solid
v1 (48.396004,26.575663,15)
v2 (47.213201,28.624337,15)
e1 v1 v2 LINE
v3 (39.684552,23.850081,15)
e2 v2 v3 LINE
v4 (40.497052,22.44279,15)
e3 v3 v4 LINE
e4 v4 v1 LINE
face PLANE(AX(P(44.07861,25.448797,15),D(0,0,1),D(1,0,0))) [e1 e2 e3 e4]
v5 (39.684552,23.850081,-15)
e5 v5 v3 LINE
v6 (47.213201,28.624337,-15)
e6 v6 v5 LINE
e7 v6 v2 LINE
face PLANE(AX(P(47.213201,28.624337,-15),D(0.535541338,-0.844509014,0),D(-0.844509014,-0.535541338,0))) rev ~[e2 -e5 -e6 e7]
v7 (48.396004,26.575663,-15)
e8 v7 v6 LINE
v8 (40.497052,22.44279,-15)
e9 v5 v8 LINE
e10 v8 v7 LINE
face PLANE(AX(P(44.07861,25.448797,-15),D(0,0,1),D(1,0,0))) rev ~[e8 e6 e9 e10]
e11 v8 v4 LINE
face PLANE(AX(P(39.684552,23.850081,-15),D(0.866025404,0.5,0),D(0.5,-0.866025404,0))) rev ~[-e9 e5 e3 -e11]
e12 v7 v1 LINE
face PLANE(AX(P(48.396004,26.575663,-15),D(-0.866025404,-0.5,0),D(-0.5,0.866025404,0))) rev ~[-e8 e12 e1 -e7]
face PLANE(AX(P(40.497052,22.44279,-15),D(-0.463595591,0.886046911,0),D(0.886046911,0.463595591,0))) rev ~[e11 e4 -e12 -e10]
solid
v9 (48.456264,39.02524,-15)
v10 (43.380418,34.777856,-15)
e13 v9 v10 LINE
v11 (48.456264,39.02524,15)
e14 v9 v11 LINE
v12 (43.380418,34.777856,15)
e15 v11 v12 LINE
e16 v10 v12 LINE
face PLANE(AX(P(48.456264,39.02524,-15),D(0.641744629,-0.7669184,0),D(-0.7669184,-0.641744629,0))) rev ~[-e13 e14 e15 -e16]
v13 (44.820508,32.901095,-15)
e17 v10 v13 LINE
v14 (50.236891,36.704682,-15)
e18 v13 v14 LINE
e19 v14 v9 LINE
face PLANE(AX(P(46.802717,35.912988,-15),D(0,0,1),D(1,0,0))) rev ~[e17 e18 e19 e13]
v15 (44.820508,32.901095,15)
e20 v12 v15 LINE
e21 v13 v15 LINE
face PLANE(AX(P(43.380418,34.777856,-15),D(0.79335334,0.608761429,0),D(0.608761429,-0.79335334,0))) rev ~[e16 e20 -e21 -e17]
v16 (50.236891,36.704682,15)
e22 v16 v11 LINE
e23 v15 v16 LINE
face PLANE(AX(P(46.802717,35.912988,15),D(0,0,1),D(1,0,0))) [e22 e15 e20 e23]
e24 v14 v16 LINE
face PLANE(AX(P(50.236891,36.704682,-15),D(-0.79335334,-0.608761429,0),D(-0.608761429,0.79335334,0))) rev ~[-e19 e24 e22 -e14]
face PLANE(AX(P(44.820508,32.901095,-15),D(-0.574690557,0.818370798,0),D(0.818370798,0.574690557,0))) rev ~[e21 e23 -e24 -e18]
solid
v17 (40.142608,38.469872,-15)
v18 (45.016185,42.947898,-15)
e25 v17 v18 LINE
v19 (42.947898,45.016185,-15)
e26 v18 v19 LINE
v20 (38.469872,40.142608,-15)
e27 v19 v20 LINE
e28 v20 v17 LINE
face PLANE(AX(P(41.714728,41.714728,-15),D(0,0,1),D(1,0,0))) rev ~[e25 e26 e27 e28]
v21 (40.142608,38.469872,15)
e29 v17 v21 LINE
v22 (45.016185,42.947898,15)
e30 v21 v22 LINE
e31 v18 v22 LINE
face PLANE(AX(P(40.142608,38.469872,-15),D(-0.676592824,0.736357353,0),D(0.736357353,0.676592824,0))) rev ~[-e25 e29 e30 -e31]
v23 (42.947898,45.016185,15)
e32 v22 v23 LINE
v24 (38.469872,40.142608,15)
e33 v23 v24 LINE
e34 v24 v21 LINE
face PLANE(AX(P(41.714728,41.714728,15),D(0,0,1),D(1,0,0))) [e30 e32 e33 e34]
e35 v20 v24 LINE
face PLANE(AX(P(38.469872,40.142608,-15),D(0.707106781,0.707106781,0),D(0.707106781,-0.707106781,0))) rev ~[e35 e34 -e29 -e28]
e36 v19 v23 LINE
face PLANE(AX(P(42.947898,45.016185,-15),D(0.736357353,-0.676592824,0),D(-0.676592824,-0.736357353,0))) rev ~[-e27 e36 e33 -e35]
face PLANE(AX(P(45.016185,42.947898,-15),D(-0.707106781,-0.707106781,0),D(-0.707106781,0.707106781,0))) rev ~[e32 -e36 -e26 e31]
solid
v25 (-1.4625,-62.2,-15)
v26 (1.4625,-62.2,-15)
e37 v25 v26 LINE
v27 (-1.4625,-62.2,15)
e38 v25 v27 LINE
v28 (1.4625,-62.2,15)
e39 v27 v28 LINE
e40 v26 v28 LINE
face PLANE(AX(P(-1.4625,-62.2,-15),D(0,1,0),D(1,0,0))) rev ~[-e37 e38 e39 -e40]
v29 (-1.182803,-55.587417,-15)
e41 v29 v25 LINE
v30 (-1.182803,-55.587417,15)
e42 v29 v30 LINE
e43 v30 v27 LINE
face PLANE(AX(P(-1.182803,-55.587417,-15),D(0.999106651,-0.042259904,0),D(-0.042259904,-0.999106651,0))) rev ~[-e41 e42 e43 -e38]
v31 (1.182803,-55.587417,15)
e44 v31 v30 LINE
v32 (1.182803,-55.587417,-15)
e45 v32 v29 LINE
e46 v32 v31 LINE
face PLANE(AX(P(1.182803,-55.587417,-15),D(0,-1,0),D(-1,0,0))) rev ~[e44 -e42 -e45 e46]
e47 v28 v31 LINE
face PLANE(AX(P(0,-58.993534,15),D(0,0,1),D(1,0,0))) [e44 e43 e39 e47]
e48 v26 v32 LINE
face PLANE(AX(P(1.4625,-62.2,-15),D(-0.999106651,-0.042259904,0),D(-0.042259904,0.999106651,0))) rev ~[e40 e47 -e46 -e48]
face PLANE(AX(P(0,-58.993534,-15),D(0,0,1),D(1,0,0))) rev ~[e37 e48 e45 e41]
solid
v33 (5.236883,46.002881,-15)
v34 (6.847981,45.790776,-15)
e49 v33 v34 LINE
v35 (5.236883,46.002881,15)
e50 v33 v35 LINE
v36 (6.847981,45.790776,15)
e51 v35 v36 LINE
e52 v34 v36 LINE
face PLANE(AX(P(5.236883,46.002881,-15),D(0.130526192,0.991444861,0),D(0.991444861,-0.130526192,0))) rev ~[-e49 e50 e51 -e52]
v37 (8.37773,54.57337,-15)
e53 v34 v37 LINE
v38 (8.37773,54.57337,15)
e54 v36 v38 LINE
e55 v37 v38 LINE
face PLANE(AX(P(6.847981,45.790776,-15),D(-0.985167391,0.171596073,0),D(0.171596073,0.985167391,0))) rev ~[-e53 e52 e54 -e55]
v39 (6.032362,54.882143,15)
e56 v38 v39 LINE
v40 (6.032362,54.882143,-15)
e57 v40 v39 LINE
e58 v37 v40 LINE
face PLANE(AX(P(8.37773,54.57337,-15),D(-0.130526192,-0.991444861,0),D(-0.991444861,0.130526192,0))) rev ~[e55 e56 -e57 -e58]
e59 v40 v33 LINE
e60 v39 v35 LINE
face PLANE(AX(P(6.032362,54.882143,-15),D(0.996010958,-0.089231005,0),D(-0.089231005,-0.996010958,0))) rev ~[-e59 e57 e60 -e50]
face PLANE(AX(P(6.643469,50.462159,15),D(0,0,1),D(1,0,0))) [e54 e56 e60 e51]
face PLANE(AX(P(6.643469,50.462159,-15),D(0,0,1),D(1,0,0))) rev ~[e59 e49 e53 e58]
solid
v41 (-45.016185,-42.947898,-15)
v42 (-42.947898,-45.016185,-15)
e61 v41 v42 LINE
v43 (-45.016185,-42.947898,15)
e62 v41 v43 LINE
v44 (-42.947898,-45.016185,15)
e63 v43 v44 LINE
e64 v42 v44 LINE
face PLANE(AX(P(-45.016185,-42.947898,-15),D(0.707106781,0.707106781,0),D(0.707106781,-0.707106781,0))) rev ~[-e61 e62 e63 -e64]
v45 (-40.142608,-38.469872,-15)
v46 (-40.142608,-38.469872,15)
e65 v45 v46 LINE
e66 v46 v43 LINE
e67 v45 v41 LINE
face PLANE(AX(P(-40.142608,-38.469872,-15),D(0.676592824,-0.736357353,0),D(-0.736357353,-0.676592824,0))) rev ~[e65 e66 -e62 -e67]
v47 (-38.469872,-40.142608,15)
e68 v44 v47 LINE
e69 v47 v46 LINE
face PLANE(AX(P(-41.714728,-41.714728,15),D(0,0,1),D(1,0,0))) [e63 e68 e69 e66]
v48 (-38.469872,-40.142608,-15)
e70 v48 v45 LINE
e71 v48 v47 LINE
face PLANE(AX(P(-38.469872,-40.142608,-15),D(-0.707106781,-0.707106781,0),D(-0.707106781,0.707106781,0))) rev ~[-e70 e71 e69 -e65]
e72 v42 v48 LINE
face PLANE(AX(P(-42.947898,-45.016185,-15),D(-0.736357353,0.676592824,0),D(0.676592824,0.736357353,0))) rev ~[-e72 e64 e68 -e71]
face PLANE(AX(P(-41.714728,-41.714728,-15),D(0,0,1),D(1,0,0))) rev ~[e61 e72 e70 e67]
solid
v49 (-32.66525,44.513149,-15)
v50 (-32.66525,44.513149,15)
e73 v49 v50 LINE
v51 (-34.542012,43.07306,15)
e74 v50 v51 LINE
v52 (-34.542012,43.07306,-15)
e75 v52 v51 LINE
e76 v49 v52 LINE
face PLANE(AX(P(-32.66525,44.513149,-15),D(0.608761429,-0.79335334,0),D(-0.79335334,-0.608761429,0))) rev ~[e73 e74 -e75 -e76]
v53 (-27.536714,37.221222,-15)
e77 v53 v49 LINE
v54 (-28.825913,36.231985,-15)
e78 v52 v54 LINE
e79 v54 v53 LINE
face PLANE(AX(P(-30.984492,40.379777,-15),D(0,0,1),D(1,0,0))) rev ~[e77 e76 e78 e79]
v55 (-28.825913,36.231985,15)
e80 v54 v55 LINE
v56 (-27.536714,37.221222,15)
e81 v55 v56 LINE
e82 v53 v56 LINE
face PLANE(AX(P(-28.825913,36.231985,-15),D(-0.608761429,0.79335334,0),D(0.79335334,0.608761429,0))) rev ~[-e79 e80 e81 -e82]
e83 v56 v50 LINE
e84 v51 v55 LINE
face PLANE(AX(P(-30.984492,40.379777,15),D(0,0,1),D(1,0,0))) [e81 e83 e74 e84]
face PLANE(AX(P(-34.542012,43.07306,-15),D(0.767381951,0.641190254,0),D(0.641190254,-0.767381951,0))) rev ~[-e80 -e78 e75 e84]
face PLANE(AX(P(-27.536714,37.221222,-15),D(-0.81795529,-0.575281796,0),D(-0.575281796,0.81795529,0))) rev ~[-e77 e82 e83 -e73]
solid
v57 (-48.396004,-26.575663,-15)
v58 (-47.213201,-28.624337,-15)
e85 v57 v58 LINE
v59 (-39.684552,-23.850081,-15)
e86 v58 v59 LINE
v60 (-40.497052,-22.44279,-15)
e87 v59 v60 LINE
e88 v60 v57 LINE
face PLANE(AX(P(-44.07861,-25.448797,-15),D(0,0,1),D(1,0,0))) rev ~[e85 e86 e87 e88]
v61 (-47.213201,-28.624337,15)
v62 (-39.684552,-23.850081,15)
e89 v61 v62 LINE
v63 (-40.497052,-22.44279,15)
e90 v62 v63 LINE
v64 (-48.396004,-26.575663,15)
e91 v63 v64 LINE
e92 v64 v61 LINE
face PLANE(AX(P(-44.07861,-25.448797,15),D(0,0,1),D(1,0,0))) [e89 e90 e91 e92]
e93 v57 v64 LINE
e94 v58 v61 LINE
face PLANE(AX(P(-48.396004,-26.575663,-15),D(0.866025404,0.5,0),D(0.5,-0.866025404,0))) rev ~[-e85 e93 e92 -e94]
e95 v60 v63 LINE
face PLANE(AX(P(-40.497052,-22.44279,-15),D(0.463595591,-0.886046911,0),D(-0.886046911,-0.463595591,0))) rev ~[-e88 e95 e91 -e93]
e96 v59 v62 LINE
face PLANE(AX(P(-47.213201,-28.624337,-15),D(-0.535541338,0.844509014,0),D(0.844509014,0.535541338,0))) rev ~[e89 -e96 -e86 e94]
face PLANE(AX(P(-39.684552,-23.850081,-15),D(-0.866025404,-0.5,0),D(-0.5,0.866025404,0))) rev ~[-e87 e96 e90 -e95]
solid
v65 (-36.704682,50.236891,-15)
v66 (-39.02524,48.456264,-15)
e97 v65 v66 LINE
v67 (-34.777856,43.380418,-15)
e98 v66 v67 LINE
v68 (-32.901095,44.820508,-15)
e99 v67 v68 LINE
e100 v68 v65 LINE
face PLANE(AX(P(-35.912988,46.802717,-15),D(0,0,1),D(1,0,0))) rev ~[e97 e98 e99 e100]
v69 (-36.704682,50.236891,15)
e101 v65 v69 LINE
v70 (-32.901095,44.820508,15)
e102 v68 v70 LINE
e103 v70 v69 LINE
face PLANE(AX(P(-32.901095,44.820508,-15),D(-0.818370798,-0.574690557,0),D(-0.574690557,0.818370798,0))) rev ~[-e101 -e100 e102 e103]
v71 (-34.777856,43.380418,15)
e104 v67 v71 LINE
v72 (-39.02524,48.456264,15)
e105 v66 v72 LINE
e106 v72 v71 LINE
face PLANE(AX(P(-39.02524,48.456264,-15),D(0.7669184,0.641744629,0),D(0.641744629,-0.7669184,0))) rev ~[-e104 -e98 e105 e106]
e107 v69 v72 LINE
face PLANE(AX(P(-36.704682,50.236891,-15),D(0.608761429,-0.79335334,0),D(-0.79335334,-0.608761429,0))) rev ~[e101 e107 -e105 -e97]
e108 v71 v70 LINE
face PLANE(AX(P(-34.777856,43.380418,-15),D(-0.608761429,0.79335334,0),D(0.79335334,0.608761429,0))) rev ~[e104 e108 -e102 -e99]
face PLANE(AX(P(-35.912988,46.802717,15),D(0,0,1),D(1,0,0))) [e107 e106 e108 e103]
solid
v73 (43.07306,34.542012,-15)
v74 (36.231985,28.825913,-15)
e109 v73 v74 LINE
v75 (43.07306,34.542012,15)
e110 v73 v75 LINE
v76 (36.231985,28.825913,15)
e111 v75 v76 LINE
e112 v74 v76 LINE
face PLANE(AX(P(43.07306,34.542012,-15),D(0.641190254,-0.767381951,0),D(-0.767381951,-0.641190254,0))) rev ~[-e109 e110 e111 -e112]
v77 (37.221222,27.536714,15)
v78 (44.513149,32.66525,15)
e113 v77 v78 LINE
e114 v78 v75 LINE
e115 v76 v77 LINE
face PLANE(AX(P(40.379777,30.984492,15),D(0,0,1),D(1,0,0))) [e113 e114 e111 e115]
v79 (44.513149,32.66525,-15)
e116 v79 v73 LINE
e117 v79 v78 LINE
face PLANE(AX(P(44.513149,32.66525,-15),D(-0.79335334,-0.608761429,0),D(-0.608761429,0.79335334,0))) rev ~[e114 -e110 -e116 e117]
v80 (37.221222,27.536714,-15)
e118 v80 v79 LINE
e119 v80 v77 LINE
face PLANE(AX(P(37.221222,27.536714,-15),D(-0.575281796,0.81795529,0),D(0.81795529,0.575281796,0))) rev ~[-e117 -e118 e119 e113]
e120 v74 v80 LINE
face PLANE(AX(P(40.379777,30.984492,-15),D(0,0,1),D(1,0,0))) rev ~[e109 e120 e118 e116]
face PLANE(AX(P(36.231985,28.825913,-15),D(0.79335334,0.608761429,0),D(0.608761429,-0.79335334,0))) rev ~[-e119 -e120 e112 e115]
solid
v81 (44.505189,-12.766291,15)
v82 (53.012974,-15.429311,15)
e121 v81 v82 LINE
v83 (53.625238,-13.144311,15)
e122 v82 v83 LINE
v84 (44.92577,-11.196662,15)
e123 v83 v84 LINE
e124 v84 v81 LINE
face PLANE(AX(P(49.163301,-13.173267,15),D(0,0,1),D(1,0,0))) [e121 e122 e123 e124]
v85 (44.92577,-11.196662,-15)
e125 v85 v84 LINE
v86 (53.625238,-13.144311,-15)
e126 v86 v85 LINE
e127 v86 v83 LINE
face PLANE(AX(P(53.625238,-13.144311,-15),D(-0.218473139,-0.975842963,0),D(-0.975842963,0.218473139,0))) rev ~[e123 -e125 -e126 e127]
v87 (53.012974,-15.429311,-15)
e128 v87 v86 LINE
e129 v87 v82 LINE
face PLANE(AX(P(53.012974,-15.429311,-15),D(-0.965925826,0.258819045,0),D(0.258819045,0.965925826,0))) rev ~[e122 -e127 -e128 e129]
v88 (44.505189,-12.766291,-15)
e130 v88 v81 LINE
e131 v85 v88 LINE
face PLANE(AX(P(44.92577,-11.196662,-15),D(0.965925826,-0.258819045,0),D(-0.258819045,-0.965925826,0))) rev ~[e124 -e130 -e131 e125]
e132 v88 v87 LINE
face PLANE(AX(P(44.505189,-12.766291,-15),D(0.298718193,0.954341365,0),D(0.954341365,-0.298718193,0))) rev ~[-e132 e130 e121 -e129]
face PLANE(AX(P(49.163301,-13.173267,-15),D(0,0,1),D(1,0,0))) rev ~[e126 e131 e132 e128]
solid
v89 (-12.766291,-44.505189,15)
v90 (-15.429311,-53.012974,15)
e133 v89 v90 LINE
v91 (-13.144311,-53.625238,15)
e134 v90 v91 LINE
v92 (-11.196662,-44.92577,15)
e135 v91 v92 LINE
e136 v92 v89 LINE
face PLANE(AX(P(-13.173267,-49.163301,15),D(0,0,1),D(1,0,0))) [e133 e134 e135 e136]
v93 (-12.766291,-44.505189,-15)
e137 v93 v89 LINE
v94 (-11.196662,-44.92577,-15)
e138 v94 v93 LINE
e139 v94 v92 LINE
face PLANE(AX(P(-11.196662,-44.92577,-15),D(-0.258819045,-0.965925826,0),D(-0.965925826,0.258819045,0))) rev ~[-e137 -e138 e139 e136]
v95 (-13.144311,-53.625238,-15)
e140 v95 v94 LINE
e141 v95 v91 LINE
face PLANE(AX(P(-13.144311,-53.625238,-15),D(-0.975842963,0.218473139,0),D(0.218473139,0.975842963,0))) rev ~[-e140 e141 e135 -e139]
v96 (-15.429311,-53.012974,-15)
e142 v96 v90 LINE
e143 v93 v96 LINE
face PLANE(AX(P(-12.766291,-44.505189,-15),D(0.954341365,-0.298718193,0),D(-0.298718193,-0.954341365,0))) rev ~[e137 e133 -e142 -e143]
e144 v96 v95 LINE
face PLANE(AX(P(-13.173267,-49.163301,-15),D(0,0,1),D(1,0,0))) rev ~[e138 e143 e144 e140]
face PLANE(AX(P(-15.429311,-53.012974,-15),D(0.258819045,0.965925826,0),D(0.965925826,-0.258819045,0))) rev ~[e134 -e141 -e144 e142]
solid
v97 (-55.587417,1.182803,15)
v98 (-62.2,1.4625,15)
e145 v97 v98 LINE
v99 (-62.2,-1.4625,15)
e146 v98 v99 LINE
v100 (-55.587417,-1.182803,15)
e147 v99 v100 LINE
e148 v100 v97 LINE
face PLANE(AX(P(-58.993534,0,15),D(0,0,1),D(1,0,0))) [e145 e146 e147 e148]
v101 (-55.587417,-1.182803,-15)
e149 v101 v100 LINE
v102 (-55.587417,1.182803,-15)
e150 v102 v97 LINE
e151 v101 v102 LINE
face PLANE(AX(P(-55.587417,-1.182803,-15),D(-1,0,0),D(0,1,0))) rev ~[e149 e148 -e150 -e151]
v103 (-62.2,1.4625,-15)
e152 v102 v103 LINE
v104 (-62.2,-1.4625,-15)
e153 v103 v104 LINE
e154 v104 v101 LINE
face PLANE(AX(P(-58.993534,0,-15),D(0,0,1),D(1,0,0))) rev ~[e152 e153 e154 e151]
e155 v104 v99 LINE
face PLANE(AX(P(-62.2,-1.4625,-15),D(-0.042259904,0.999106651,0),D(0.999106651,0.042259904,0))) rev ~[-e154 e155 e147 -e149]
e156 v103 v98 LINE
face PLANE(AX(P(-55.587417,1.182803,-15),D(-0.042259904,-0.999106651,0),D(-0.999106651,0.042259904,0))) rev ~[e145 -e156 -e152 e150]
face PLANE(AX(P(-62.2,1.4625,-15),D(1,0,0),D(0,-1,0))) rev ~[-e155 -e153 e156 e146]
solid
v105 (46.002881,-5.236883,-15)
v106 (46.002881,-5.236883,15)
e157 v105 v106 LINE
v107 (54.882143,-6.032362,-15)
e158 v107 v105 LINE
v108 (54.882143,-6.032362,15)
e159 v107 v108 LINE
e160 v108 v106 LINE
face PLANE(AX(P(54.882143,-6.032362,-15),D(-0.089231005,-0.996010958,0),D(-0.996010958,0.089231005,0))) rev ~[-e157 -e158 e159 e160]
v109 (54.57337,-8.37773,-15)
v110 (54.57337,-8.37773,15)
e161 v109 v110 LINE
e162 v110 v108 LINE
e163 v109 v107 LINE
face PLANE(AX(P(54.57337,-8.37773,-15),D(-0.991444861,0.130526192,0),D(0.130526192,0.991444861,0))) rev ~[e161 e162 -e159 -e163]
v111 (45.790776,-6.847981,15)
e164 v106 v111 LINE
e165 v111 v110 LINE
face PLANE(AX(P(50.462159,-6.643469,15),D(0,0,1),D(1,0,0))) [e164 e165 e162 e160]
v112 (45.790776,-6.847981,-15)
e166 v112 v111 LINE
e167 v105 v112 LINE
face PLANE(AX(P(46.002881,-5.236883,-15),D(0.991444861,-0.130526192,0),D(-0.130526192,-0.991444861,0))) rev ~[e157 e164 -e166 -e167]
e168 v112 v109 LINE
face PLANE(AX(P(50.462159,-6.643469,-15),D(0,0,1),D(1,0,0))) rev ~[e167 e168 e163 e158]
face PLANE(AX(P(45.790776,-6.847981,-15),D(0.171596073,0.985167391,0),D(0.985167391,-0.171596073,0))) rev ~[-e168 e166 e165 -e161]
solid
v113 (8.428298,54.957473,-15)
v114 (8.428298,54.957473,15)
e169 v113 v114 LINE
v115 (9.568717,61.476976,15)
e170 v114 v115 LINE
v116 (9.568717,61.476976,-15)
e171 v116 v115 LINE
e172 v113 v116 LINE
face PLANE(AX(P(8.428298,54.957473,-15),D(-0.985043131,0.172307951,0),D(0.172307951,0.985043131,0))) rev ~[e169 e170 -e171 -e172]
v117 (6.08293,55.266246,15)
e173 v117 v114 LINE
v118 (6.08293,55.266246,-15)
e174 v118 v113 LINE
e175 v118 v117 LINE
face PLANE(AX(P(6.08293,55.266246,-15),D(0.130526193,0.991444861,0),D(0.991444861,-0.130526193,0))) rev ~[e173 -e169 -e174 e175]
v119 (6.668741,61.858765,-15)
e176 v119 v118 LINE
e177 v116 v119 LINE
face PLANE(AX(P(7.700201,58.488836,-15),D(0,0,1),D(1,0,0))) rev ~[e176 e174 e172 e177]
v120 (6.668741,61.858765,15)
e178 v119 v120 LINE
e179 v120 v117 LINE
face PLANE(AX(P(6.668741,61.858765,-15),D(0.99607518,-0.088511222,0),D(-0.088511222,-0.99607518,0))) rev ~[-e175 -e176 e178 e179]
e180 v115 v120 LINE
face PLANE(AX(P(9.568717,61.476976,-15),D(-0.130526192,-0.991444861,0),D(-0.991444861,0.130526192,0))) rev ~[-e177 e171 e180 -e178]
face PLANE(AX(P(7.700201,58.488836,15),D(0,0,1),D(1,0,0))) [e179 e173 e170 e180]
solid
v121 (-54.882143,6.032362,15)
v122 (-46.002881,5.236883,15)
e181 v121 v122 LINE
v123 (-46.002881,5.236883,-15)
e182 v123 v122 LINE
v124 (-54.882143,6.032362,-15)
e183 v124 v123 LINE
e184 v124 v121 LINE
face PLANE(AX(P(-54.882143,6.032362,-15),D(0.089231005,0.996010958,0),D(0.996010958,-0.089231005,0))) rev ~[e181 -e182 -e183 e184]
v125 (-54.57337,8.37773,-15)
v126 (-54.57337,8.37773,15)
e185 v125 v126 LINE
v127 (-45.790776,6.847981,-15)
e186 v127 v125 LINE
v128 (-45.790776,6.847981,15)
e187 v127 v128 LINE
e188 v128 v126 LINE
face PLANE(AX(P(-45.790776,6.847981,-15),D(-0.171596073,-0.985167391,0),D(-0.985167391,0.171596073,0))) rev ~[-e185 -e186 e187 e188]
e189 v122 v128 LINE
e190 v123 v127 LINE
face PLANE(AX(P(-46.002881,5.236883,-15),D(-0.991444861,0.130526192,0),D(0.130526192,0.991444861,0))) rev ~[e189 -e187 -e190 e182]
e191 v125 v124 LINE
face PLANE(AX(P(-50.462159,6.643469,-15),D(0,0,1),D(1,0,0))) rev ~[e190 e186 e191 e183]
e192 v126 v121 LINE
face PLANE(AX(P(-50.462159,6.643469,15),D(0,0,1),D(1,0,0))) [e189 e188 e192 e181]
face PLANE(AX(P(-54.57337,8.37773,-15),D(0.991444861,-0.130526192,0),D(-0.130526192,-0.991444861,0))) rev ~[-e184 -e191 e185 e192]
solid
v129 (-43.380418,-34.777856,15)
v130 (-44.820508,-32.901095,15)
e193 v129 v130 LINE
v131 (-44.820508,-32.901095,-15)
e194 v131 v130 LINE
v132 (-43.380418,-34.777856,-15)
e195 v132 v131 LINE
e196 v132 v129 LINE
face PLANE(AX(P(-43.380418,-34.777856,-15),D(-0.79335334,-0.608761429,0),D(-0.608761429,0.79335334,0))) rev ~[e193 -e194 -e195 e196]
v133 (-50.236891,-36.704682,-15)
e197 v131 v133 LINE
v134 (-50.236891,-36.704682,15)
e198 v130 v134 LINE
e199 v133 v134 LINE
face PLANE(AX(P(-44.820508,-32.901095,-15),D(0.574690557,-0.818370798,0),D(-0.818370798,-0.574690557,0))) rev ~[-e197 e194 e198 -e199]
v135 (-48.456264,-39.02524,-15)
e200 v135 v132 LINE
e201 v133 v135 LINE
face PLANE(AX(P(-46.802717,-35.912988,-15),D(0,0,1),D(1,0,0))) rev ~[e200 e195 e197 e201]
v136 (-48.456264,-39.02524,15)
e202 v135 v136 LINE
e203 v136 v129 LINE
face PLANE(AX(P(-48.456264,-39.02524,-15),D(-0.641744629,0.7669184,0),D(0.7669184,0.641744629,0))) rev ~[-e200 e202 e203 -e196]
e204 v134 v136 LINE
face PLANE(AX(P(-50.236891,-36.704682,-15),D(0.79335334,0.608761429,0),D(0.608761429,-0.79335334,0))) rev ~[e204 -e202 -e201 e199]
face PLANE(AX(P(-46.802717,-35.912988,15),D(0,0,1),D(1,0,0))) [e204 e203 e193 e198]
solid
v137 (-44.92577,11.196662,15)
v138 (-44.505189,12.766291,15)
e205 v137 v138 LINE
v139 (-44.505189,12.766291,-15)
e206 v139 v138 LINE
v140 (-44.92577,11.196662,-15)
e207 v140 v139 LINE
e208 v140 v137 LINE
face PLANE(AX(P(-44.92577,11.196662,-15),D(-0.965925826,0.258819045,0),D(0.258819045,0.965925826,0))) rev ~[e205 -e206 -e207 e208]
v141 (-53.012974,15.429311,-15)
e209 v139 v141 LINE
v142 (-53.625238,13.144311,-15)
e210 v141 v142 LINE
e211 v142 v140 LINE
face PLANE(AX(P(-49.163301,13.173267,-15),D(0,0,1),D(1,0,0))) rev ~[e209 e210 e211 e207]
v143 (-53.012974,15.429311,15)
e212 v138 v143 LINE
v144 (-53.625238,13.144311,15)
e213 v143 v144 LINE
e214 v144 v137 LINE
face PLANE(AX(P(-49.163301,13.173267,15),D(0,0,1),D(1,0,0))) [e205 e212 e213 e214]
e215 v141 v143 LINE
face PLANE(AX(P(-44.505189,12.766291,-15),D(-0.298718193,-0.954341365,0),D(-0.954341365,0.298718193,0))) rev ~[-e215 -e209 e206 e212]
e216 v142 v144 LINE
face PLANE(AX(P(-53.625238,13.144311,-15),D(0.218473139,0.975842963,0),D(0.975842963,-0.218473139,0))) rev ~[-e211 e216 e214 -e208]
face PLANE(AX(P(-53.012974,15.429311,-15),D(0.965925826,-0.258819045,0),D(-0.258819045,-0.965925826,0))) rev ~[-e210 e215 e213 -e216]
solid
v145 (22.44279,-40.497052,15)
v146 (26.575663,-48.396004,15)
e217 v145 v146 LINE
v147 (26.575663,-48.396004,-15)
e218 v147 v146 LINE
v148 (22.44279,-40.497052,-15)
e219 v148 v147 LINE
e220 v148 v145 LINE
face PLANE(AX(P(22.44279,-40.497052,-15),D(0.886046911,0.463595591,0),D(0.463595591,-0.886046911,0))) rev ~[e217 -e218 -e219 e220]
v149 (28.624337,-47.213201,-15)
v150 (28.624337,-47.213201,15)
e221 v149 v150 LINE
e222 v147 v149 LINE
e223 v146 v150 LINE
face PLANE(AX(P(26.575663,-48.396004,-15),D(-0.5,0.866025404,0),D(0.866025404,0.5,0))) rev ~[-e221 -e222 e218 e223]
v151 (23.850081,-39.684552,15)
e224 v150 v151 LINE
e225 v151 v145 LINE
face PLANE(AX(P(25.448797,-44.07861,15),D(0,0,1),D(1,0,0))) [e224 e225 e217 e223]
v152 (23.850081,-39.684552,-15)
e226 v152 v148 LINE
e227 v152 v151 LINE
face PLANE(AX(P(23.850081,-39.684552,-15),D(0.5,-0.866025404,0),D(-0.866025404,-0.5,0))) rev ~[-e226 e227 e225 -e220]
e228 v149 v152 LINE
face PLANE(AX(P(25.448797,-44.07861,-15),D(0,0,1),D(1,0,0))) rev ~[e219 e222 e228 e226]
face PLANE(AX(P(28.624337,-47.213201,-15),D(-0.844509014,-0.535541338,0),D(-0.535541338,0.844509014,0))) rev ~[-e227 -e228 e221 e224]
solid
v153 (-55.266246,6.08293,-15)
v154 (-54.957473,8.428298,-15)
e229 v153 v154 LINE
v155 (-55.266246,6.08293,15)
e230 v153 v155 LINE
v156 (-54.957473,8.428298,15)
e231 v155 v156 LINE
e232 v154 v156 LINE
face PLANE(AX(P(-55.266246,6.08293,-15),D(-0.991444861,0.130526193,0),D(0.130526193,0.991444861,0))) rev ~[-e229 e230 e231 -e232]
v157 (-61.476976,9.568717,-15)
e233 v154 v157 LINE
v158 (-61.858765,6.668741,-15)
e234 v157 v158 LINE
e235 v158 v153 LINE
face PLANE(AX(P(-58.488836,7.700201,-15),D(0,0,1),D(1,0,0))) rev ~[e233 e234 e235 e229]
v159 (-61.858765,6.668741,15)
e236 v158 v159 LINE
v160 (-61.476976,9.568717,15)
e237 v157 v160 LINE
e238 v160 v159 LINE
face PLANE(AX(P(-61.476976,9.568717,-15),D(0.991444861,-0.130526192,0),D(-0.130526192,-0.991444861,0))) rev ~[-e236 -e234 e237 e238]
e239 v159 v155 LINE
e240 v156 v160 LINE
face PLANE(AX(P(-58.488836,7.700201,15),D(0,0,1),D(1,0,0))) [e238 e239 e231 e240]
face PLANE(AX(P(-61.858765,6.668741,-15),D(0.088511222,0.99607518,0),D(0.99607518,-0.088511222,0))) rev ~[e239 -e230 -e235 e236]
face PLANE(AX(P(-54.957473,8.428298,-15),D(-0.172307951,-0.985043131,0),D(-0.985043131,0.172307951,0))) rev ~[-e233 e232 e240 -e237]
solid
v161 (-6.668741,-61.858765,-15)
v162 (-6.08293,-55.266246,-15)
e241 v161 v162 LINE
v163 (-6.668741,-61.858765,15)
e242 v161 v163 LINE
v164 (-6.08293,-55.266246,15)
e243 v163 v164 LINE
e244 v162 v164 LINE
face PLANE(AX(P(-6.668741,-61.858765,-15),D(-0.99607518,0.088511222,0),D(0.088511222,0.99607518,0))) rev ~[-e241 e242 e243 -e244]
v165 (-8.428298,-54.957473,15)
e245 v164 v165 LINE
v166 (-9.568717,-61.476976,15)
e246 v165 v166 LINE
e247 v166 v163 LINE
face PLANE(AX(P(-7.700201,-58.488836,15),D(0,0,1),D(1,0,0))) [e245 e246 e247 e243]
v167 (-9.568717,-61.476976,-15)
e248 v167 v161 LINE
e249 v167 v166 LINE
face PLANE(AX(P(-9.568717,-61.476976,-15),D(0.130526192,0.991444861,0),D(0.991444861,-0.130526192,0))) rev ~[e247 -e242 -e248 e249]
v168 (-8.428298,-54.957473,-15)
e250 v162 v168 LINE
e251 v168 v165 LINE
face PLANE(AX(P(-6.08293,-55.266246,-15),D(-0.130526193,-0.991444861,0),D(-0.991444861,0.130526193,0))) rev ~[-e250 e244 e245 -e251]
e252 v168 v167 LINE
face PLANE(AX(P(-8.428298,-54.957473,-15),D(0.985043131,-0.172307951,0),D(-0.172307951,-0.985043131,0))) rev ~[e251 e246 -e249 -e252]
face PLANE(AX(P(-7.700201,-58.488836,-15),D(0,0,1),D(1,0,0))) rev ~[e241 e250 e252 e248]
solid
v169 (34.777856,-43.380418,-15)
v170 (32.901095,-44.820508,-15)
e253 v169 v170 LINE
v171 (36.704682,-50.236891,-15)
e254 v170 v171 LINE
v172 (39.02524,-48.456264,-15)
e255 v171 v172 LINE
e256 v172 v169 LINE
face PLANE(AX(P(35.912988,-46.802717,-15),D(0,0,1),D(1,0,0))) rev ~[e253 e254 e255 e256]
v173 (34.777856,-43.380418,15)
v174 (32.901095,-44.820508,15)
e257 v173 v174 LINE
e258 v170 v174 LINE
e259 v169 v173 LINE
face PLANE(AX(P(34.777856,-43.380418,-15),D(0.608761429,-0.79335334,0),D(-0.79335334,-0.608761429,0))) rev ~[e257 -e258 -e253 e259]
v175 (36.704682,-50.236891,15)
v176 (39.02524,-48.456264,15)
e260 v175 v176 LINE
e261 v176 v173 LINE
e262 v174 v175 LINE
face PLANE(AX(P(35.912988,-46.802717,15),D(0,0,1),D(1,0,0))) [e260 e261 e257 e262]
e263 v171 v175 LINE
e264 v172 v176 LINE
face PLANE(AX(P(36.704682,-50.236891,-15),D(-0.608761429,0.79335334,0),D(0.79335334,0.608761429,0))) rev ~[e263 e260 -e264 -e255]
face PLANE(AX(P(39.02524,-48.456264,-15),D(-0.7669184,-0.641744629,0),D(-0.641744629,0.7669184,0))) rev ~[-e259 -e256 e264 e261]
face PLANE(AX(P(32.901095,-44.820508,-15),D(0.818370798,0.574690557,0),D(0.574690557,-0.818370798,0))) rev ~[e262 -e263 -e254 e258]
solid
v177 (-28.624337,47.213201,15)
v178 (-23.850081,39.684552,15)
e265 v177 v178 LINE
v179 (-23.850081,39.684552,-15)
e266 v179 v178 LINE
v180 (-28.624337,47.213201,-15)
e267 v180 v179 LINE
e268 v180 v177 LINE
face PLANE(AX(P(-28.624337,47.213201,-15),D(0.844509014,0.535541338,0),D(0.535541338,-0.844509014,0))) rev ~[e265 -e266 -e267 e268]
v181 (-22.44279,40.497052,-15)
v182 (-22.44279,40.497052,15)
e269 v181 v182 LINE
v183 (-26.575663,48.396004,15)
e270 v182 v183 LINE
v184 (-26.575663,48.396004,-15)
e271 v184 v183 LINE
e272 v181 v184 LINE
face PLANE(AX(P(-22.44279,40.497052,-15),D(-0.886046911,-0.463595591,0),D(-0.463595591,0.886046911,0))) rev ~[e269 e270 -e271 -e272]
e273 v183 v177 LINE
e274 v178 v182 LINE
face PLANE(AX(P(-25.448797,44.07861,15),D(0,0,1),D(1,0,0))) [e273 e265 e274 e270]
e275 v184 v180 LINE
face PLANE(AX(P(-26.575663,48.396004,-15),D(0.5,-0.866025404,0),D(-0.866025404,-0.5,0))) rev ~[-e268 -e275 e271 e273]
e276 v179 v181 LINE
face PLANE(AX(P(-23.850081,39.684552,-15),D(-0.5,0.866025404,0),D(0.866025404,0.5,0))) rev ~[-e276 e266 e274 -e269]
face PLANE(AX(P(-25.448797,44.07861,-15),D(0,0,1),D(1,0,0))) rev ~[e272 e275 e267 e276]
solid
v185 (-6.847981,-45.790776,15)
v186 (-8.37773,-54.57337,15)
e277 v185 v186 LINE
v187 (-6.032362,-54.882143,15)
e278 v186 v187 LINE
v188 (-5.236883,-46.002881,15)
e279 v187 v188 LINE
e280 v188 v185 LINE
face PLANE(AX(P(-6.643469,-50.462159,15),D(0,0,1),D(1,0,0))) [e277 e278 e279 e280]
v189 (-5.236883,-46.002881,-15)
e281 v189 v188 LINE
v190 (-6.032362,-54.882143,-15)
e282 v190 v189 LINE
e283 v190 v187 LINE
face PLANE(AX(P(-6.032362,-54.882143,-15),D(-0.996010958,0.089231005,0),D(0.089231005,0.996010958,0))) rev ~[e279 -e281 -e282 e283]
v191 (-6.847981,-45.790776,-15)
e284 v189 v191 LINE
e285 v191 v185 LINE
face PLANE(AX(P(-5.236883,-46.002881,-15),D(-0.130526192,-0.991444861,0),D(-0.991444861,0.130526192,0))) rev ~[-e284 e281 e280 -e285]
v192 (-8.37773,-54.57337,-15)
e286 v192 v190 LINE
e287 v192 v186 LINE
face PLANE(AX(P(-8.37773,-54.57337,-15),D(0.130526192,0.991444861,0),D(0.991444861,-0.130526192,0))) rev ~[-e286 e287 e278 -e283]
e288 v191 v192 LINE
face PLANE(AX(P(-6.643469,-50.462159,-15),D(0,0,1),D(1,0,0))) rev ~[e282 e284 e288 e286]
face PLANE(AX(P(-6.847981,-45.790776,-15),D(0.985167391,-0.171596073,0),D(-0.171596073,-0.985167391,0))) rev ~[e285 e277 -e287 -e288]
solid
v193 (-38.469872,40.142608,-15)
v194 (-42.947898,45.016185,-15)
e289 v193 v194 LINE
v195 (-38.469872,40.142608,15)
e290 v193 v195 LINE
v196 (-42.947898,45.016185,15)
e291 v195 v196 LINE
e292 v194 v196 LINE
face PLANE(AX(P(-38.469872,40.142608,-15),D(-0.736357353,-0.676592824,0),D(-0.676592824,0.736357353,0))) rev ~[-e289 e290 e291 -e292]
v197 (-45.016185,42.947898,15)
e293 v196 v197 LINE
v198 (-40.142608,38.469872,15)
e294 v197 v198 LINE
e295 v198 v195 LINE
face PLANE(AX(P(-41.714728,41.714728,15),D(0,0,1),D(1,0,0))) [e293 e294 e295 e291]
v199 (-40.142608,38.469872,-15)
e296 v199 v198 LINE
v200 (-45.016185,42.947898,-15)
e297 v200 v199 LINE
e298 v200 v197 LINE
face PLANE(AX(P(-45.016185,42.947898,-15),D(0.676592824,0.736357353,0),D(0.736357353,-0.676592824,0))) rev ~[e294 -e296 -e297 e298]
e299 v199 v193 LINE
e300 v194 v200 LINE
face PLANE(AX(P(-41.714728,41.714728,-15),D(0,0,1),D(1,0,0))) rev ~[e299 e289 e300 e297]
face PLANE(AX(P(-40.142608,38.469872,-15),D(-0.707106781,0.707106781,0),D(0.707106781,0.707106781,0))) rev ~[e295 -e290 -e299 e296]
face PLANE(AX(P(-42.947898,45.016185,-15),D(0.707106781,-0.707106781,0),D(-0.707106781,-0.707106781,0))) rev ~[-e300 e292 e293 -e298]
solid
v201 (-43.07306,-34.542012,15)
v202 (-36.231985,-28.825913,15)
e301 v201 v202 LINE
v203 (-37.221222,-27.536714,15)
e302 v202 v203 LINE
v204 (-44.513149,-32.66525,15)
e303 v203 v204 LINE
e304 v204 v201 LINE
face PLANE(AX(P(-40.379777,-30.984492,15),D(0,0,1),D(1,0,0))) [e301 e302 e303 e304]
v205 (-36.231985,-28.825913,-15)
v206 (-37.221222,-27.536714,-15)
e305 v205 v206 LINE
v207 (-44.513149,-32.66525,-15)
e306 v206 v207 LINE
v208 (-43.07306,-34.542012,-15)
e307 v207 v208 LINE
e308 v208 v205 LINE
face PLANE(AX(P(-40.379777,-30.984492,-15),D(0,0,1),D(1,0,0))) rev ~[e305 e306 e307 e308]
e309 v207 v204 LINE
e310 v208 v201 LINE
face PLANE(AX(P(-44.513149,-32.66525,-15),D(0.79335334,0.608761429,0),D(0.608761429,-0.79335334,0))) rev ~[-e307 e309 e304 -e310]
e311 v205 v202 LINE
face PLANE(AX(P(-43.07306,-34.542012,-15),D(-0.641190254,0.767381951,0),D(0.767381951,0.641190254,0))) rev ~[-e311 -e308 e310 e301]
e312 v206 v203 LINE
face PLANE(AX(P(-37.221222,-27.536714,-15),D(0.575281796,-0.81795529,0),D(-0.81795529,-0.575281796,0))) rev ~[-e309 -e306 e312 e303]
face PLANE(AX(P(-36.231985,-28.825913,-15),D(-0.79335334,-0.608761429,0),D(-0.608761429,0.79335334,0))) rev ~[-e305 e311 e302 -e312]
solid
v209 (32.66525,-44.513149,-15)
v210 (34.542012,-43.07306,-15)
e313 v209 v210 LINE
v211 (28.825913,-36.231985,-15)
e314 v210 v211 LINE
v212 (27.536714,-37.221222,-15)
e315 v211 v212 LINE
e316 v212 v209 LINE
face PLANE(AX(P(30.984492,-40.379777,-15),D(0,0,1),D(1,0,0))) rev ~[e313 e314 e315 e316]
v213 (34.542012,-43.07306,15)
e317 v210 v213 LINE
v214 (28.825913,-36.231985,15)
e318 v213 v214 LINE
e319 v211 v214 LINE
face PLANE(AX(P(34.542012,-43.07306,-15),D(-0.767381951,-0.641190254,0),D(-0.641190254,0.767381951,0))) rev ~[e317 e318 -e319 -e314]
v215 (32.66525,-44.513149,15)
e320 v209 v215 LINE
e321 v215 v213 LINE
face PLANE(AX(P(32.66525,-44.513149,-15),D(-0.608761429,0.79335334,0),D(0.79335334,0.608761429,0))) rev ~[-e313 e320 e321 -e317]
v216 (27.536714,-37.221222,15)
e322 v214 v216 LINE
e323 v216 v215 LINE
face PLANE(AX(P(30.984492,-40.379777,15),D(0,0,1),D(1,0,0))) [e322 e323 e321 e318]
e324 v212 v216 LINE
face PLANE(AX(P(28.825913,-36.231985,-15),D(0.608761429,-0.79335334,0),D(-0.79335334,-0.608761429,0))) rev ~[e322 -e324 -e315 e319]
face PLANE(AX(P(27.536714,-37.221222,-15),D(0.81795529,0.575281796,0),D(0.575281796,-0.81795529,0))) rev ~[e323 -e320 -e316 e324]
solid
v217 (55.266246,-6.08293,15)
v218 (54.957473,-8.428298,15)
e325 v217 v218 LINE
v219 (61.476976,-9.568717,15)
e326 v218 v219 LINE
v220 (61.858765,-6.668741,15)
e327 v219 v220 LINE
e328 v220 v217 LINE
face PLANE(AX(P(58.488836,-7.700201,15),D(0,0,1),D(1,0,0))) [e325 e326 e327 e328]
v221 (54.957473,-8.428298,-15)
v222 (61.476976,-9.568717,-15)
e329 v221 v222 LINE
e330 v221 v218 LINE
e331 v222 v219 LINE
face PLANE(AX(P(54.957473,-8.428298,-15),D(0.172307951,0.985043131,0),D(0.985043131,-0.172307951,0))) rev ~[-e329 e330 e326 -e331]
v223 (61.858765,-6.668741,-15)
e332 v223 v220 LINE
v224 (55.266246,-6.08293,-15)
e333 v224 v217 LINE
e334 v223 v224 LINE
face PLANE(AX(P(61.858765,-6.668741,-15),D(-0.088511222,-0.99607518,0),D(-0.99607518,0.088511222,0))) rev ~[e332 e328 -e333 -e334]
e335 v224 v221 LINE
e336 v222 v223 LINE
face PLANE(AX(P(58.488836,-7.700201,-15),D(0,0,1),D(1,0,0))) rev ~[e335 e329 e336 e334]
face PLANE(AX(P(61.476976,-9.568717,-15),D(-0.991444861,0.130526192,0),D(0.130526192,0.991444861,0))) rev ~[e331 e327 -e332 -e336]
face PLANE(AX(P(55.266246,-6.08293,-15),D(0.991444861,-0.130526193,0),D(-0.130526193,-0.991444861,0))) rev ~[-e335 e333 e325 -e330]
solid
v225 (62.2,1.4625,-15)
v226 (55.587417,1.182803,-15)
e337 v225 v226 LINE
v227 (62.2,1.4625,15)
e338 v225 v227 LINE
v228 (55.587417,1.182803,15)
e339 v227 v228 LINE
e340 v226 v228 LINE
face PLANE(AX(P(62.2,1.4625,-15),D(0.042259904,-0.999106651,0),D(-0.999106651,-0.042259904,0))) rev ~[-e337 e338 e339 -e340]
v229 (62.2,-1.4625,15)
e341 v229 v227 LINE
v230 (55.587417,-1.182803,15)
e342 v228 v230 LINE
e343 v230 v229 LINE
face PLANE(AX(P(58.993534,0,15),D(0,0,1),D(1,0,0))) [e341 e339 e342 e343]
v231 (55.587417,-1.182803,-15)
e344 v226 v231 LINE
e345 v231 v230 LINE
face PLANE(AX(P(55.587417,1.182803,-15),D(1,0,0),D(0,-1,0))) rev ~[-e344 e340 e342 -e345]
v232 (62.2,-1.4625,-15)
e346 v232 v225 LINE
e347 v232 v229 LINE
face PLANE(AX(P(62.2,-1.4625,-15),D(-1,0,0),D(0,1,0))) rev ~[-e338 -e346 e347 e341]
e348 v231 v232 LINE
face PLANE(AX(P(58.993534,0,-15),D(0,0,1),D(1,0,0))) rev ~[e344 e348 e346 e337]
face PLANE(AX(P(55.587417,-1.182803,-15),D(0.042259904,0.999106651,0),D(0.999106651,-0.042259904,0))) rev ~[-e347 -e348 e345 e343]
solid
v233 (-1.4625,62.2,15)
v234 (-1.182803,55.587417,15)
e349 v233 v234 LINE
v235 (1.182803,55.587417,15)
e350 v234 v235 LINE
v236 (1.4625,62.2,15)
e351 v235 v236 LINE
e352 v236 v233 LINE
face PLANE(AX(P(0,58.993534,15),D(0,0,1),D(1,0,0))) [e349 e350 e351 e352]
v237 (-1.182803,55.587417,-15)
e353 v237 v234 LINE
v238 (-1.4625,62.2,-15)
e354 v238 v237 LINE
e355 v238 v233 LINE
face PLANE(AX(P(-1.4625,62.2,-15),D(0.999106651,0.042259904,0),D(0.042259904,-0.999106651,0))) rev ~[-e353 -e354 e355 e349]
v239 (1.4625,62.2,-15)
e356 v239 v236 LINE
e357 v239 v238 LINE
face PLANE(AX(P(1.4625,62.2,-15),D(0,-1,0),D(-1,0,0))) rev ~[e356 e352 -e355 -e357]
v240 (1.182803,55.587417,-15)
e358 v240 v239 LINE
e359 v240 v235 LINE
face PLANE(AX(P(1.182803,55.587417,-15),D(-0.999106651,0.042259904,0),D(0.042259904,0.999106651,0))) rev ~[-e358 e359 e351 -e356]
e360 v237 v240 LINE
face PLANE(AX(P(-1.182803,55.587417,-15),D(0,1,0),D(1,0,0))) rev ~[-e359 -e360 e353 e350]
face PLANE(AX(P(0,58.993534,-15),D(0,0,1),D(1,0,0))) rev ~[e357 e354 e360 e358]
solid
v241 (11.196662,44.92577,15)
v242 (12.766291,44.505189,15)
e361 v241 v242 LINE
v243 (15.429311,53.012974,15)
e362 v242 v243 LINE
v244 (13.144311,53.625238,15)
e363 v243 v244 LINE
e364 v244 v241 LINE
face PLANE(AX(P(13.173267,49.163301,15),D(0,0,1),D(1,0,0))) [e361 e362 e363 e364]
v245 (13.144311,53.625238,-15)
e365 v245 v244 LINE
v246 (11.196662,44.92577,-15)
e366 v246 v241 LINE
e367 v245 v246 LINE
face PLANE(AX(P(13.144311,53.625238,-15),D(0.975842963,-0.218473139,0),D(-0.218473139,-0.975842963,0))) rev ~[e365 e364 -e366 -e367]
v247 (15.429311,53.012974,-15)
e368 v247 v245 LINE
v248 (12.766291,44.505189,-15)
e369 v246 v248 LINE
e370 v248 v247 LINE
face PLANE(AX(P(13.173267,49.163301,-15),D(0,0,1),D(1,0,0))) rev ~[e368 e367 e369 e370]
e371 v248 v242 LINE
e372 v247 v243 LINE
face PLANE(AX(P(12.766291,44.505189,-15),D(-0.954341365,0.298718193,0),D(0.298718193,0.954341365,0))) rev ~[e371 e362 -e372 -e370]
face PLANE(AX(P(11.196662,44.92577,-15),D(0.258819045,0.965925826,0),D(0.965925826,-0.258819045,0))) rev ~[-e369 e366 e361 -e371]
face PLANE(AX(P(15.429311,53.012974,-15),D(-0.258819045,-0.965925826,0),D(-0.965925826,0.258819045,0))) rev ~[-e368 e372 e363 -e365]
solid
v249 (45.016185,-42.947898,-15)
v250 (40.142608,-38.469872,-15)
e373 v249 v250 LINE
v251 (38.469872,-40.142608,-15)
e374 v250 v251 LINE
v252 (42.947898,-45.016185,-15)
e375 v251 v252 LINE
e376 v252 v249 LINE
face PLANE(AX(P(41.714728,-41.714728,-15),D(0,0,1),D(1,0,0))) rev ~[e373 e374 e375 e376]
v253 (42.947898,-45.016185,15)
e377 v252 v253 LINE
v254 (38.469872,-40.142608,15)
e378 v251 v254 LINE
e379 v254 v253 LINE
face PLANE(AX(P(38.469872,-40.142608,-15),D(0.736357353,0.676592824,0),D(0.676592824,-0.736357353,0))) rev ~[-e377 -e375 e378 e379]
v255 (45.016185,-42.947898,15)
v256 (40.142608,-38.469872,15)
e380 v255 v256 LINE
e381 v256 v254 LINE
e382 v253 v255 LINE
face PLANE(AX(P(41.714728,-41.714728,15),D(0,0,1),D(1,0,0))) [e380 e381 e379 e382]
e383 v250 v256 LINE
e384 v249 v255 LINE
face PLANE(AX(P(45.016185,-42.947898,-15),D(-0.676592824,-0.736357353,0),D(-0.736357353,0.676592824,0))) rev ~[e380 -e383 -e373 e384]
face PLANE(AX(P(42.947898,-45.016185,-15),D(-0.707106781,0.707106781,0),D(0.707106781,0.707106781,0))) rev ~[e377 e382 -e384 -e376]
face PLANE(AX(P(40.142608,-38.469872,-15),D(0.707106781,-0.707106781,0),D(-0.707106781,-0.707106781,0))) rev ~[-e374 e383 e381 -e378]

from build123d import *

# Parameters (mm, degrees)
SLOT_COPPER_ENVELOPES_START    = -15
SLOT_COPPER_ENVELOPES_DEPTH    = 30
SLOT_COPPER_ENVELOPES_2_DEPTH  = 30
SLOT_COPPER_ENVELOPES_3_DEPTH  = 30
SLOT_COPPER_ENVELOPES_4_DEPTH  = 30
SLOT_COPPER_ENVELOPES_5_DEPTH  = 30
SLOT_COPPER_ENVELOPES_6_DEPTH  = 30
SLOT_COPPER_ENVELOPES_7_DEPTH  = 30
SLOT_COPPER_ENVELOPES_8_DEPTH  = 30
SLOT_COPPER_ENVELOPES_9_DEPTH  = 30
SLOT_COPPER_ENVELOPES_10_DEPTH = 30
SLOT_COPPER_ENVELOPES_11_DEPTH = 30
SLOT_COPPER_ENVELOPES_12_DEPTH = 30
SLOT_COPPER_ENVELOPES_13_DEPTH = 30
SLOT_COPPER_ENVELOPES_14_DEPTH = 30
SLOT_COPPER_ENVELOPES_15_DEPTH = 30
SLOT_COPPER_ENVELOPES_16_DEPTH = 30
SLOT_COPPER_ENVELOPES_17_DEPTH = 30
SLOT_COPPER_ENVELOPES_18_DEPTH = 30
SLOT_COPPER_ENVELOPES_19_DEPTH = 30
SLOT_COPPER_ENVELOPES_20_DEPTH = 30
SLOT_COPPER_ENVELOPES_21_DEPTH = 30
SLOT_COPPER_ENVELOPES_22_DEPTH = 30
SLOT_COPPER_ENVELOPES_23_DEPTH = 30
SLOT_COPPER_ENVELOPES_24_DEPTH = 30
SLOT_COPPER_ENVELOPES_25_DEPTH = 30
SLOT_COPPER_ENVELOPES_26_DEPTH = 30
SLOT_COPPER_ENVELOPES_27_DEPTH = 30
SLOT_COPPER_ENVELOPES_28_DEPTH = 30
SLOT_COPPER_ENVELOPES_29_DEPTH = 30
SLOT_COPPER_ENVELOPES_30_DEPTH = 30
SLOT_COPPER_ENVELOPES_31_DEPTH = 30
SLOT_COPPER_ENVELOPES_32_DEPTH = 30


with BuildPart() as part:
    # Эскиз1 → Slot_copper_envelopes (new body)
    with BuildSketch(Plane.XY.offset(SLOT_COPPER_ENVELOPES_START)):
        Polygon((55.587417434, -1.18280303), (62.2, -1.4625), (62.2, 1.4625), (55.587417434, 1.18280303), align=None)
    extrude(amount=SLOT_COPPER_ENVELOPES_DEPTH)


with BuildPart() as body_2:
    # Эскиз1 → Slot_copper_envelopes 2 (new body)
    with BuildSketch(Plane.XY.offset(SLOT_COPPER_ENVELOPES_START)):
        Polygon((40.497051723, 22.442789526), (48.396003804, 26.575662528), (47.213200774, 28.624337472), (39.684551723, 23.850080808), align=None)
    extrude(amount=SLOT_COPPER_ENVELOPES_2_DEPTH)


with BuildPart() as body_3:
    # Эскиз1 → Slot_copper_envelopes 3 (new body)
    with BuildSketch(Plane.XY.offset(SLOT_COPPER_ENVELOPES_START)):
        Polygon((44.820508162, 32.901094937), (50.236891356, 36.704681624), (48.456264176, 39.025240145), (43.380418437, 34.777856407), align=None)
    extrude(amount=SLOT_COPPER_ENVELOPES_3_DEPTH)


with BuildPart() as body_4:
    # Эскиз1 → Slot_copper_envelopes 4 (new body)
    with BuildSketch(Plane.XY.offset(SLOT_COPPER_ENVELOPES_START)):
        Polygon((37.221221972, 27.536714308), (44.513149247, 32.665250146), (43.073059521, 34.542011616), (36.23198465, 28.825913486), align=None)
    extrude(amount=SLOT_COPPER_ENVELOPES_4_DEPTH)


with BuildPart() as body_5:
    # Эскиз1 → Slot_copper_envelopes 5 (new body)
    with BuildSketch(Plane.XY.offset(SLOT_COPPER_ENVELOPES_START)):
        Polygon((40.14260786, 38.469871773), (45.016185457, 42.947898122), (42.947898122, 45.016185457), (38.469871773, 40.14260786), align=None)
    extrude(amount=SLOT_COPPER_ENVELOPES_5_DEPTH)


with BuildPart() as body_6:
    # Эскиз1 → Slot_copper_envelopes 6 (new body)
    with BuildSketch(Plane.XY.offset(SLOT_COPPER_ENVELOPES_START)):
        Polygon((12.766291229, 44.505188554), (15.429311284, 53.01297366), (13.144311295, 53.625237562), (11.196661761, 44.925769503), align=None)
    extrude(amount=SLOT_COPPER_ENVELOPES_6_DEPTH)


with BuildPart() as body_7:
    # Эскиз1 → Slot_copper_envelopes 7 (new body)
    with BuildSketch(Plane.XY.offset(SLOT_COPPER_ENVELOPES_START)):
        Polygon((8.428297919, 54.957472596), (9.568717266, 61.476975821), (6.668741046, 61.858764934), (6.082929947, 55.266246148), align=None)
    extrude(amount=SLOT_COPPER_ENVELOPES_7_DEPTH)


with BuildPart() as body_8:
    # Эскиз1 → Slot_copper_envelopes 8 (new body)
    with BuildSketch(Plane.XY.offset(SLOT_COPPER_ENVELOPES_START)):
        Polygon((6.847981041, 45.79077588), (8.377729797, 54.573369572), (6.032361824, 54.882143124), (5.236883142, 46.002880942), align=None)
    extrude(amount=SLOT_COPPER_ENVELOPES_8_DEPTH)


with BuildPart() as body_9:
    # Эскиз1 → Slot_copper_envelopes 9 (new body)
    with BuildSketch(Plane.XY.offset(SLOT_COPPER_ENVELOPES_START)):
        Polygon((1.18280303, 55.587417434), (1.4625, 62.2), (-1.4625, 62.2), (-1.18280303, 55.587417434), align=None)
    extrude(amount=SLOT_COPPER_ENVELOPES_9_DEPTH)


with BuildPart() as body_10:
    # Эскиз1 → Slot_copper_envelopes 10 (new body)
    with BuildSketch(Plane.XY.offset(SLOT_COPPER_ENVELOPES_START)):
        Polygon((-22.442789526, 40.497051723), (-26.575662528, 48.396003804), (-28.624337472, 47.213200774), (-23.850080808, 39.684551723), align=None)
    extrude(amount=SLOT_COPPER_ENVELOPES_10_DEPTH)


with BuildPart() as body_11:
    # Эскиз1 → Slot_copper_envelopes 11 (new body)
    with BuildSketch(Plane.XY.offset(SLOT_COPPER_ENVELOPES_START)):
        Polygon((-32.901094937, 44.820508162), (-36.704681624, 50.236891356), (-39.025240145, 48.456264176), (-34.777856407, 43.380418437), align=None)
    extrude(amount=SLOT_COPPER_ENVELOPES_11_DEPTH)


with BuildPart() as body_12:
    # Эскиз1 → Slot_copper_envelopes 12 (new body)
    with BuildSketch(Plane.XY.offset(SLOT_COPPER_ENVELOPES_START)):
        Polygon((-27.536714308, 37.221221972), (-32.665250146, 44.513149247), (-34.542011616, 43.073059521), (-28.825913486, 36.23198465), align=None)
    extrude(amount=SLOT_COPPER_ENVELOPES_12_DEPTH)


with BuildPart() as body_13:
    # Эскиз1 → Slot_copper_envelopes 13 (new body)
    with BuildSketch(Plane.XY.offset(SLOT_COPPER_ENVELOPES_START)):
        Polygon((-38.469871773, 40.14260786), (-42.947898122, 45.016185457), (-45.016185457, 42.947898122), (-40.14260786, 38.469871773), align=None)
    extrude(amount=SLOT_COPPER_ENVELOPES_13_DEPTH)


with BuildPart() as body_14:
    # Эскиз1 → Slot_copper_envelopes 14 (new body)
    with BuildSketch(Plane.XY.offset(SLOT_COPPER_ENVELOPES_START)):
        Polygon((-44.505188554, 12.766291229), (-53.01297366, 15.429311284), (-53.625237562, 13.144311295), (-44.925769503, 11.196661761), align=None)
    extrude(amount=SLOT_COPPER_ENVELOPES_14_DEPTH)


with BuildPart() as body_15:
    # Эскиз1 → Slot_copper_envelopes 15 (new body)
    with BuildSketch(Plane.XY.offset(SLOT_COPPER_ENVELOPES_START)):
        Polygon((-54.957472596, 8.428297919), (-61.476975821, 9.568717266), (-61.858764934, 6.668741046), (-55.266246148, 6.082929947), align=None)
    extrude(amount=SLOT_COPPER_ENVELOPES_15_DEPTH)


with BuildPart() as body_16:
    # Эскиз1 → Slot_copper_envelopes 16 (new body)
    with BuildSketch(Plane.XY.offset(SLOT_COPPER_ENVELOPES_START)):
        Polygon((-45.79077588, 6.847981041), (-54.573369572, 8.377729797), (-54.882143124, 6.032361824), (-46.002880942, 5.236883142), align=None)
    extrude(amount=SLOT_COPPER_ENVELOPES_16_DEPTH)


with BuildPart() as body_17:
    # Эскиз1 → Slot_copper_envelopes 17 (new body)
    with BuildSketch(Plane.XY.offset(SLOT_COPPER_ENVELOPES_START)):
        Polygon((-55.587417434, 1.18280303), (-62.2, 1.4625), (-62.2, -1.4625), (-55.587417434, -1.18280303), align=None)
    extrude(amount=SLOT_COPPER_ENVELOPES_17_DEPTH)


with BuildPart() as body_18:
    # Эскиз1 → Slot_copper_envelopes 18 (new body)
    with BuildSketch(Plane.XY.offset(SLOT_COPPER_ENVELOPES_START)):
        Polygon((-40.497051723, -22.442789526), (-48.396003804, -26.575662528), (-47.213200774, -28.624337472), (-39.684551723, -23.850080808), align=None)
    extrude(amount=SLOT_COPPER_ENVELOPES_18_DEPTH)


with BuildPart() as body_19:
    # Эскиз1 → Slot_copper_envelopes 19 (new body)
    with BuildSketch(Plane.XY.offset(SLOT_COPPER_ENVELOPES_START)):
        Polygon((-44.820508162, -32.901094937), (-50.236891356, -36.704681624), (-48.456264176, -39.025240145), (-43.380418437, -34.777856407), align=None)
    extrude(amount=SLOT_COPPER_ENVELOPES_19_DEPTH)


with BuildPart() as body_20:
    # Эскиз1 → Slot_copper_envelopes 20 (new body)
    with BuildSketch(Plane.XY.offset(SLOT_COPPER_ENVELOPES_START)):
        Polygon((-37.221221972, -27.536714308), (-44.513149247, -32.665250146), (-43.073059521, -34.542011616), (-36.23198465, -28.825913486), align=None)
    extrude(amount=SLOT_COPPER_ENVELOPES_20_DEPTH)


with BuildPart() as body_21:
    # Эскиз1 → Slot_copper_envelopes 21 (new body)
    with BuildSketch(Plane.XY.offset(SLOT_COPPER_ENVELOPES_START)):
        Polygon((-40.14260786, -38.469871773), (-45.016185457, -42.947898122), (-42.947898122, -45.016185457), (-38.469871773, -40.14260786), align=None)
    extrude(amount=SLOT_COPPER_ENVELOPES_21_DEPTH)


with BuildPart() as body_22:
    # Эскиз1 → Slot_copper_envelopes 22 (new body)
    with BuildSketch(Plane.XY.offset(SLOT_COPPER_ENVELOPES_START)):
        Polygon((-12.766291229, -44.505188554), (-15.429311284, -53.01297366), (-13.144311295, -53.625237562), (-11.196661761, -44.925769503), align=None)
    extrude(amount=SLOT_COPPER_ENVELOPES_22_DEPTH)


with BuildPart() as body_23:
    # Эскиз1 → Slot_copper_envelopes 23 (new body)
    with BuildSketch(Plane.XY.offset(SLOT_COPPER_ENVELOPES_START)):
        Polygon((-8.428297919, -54.957472596), (-9.568717266, -61.476975821), (-6.668741046, -61.858764934), (-6.082929947, -55.266246148), align=None)
    extrude(amount=SLOT_COPPER_ENVELOPES_23_DEPTH)


with BuildPart() as body_24:
    # Эскиз1 → Slot_copper_envelopes 24 (new body)
    with BuildSketch(Plane.XY.offset(SLOT_COPPER_ENVELOPES_START)):
        Polygon((-6.847981041, -45.79077588), (-8.377729797, -54.573369572), (-6.032361824, -54.882143124), (-5.236883142, -46.002880942), align=None)
    extrude(amount=SLOT_COPPER_ENVELOPES_24_DEPTH)


with BuildPart() as body_25:
    # Эскиз1 → Slot_copper_envelopes 25 (new body)
    with BuildSketch(Plane.XY.offset(SLOT_COPPER_ENVELOPES_START)):
        Polygon((-1.18280303, -55.587417434), (-1.4625, -62.2), (1.4625, -62.2), (1.18280303, -55.587417434), align=None)
    extrude(amount=SLOT_COPPER_ENVELOPES_25_DEPTH)


with BuildPart() as body_26:
    # Эскиз1 → Slot_copper_envelopes 26 (new body)
    with BuildSketch(Plane.XY.offset(SLOT_COPPER_ENVELOPES_START)):
        Polygon((22.442789526, -40.497051723), (26.575662528, -48.396003804), (28.624337472, -47.213200774), (23.850080808, -39.684551723), align=None)
    extrude(amount=SLOT_COPPER_ENVELOPES_26_DEPTH)


with BuildPart() as body_27:
    # Эскиз1 → Slot_copper_envelopes 27 (new body)
    with BuildSketch(Plane.XY.offset(SLOT_COPPER_ENVELOPES_START)):
        Polygon((32.901094937, -44.820508162), (36.704681624, -50.236891356), (39.025240145, -48.456264176), (34.777856407, -43.380418437), align=None)
    extrude(amount=SLOT_COPPER_ENVELOPES_27_DEPTH)


with BuildPart() as body_28:
    # Эскиз1 → Slot_copper_envelopes 28 (new body)
    with BuildSketch(Plane.XY.offset(SLOT_COPPER_ENVELOPES_START)):
        Polygon((27.536714308, -37.221221972), (32.665250146, -44.513149247), (34.542011616, -43.073059521), (28.825913486, -36.23198465), align=None)
    extrude(amount=SLOT_COPPER_ENVELOPES_28_DEPTH)


with BuildPart() as body_29:
    # Эскиз1 → Slot_copper_envelopes 29 (new body)
    with BuildSketch(Plane.XY.offset(SLOT_COPPER_ENVELOPES_START)):
        Polygon((38.469871773, -40.14260786), (42.947898122, -45.016185457), (45.016185457, -42.947898122), (40.14260786, -38.469871773), align=None)
    extrude(amount=SLOT_COPPER_ENVELOPES_29_DEPTH)


with BuildPart() as body_30:
    # Эскиз1 → Slot_copper_envelopes 30 (new body)
    with BuildSketch(Plane.XY.offset(SLOT_COPPER_ENVELOPES_START)):
        Polygon((44.505188554, -12.766291229), (53.01297366, -15.429311284), (53.625237562, -13.144311295), (44.925769503, -11.196661761), align=None)
    extrude(amount=SLOT_COPPER_ENVELOPES_30_DEPTH)


with BuildPart() as body_31:
    # Эскиз1 → Slot_copper_envelopes 31 (new body)
    with BuildSketch(Plane.XY.offset(SLOT_COPPER_ENVELOPES_START)):
        Polygon((54.957472596, -8.428297919), (61.476975821, -9.568717266), (61.858764934, -6.668741046), (55.266246148, -6.082929947), align=None)
    extrude(amount=SLOT_COPPER_ENVELOPES_31_DEPTH)


with BuildPart() as body_32:
    # Эскиз1 → Slot_copper_envelopes 32 (new body)
    with BuildSketch(Plane.XY.offset(SLOT_COPPER_ENVELOPES_START)):
        Polygon((45.79077588, -6.847981041), (54.573369572, -8.377729797), (54.882143124, -6.032361824), (46.002880942, -5.236883142), align=None)
    extrude(amount=SLOT_COPPER_ENVELOPES_32_DEPTH)


solid = Compound([part.part, body_2.part, body_3.part, body_4.part, body_5.part, body_6.part, body_7.part, body_8.part, body_9.part, body_10.part, body_11.part, body_12.part, body_13.part, body_14.part, body_15.part, body_16.part, body_17.part, body_18.part, body_19.part, body_20.part, body_21.part, body_22.part, body_23.part, body_24.part, body_25.part, body_26.part, body_27.part, body_28.part, body_29.part, body_30.part, body_31.part, body_32.part])
